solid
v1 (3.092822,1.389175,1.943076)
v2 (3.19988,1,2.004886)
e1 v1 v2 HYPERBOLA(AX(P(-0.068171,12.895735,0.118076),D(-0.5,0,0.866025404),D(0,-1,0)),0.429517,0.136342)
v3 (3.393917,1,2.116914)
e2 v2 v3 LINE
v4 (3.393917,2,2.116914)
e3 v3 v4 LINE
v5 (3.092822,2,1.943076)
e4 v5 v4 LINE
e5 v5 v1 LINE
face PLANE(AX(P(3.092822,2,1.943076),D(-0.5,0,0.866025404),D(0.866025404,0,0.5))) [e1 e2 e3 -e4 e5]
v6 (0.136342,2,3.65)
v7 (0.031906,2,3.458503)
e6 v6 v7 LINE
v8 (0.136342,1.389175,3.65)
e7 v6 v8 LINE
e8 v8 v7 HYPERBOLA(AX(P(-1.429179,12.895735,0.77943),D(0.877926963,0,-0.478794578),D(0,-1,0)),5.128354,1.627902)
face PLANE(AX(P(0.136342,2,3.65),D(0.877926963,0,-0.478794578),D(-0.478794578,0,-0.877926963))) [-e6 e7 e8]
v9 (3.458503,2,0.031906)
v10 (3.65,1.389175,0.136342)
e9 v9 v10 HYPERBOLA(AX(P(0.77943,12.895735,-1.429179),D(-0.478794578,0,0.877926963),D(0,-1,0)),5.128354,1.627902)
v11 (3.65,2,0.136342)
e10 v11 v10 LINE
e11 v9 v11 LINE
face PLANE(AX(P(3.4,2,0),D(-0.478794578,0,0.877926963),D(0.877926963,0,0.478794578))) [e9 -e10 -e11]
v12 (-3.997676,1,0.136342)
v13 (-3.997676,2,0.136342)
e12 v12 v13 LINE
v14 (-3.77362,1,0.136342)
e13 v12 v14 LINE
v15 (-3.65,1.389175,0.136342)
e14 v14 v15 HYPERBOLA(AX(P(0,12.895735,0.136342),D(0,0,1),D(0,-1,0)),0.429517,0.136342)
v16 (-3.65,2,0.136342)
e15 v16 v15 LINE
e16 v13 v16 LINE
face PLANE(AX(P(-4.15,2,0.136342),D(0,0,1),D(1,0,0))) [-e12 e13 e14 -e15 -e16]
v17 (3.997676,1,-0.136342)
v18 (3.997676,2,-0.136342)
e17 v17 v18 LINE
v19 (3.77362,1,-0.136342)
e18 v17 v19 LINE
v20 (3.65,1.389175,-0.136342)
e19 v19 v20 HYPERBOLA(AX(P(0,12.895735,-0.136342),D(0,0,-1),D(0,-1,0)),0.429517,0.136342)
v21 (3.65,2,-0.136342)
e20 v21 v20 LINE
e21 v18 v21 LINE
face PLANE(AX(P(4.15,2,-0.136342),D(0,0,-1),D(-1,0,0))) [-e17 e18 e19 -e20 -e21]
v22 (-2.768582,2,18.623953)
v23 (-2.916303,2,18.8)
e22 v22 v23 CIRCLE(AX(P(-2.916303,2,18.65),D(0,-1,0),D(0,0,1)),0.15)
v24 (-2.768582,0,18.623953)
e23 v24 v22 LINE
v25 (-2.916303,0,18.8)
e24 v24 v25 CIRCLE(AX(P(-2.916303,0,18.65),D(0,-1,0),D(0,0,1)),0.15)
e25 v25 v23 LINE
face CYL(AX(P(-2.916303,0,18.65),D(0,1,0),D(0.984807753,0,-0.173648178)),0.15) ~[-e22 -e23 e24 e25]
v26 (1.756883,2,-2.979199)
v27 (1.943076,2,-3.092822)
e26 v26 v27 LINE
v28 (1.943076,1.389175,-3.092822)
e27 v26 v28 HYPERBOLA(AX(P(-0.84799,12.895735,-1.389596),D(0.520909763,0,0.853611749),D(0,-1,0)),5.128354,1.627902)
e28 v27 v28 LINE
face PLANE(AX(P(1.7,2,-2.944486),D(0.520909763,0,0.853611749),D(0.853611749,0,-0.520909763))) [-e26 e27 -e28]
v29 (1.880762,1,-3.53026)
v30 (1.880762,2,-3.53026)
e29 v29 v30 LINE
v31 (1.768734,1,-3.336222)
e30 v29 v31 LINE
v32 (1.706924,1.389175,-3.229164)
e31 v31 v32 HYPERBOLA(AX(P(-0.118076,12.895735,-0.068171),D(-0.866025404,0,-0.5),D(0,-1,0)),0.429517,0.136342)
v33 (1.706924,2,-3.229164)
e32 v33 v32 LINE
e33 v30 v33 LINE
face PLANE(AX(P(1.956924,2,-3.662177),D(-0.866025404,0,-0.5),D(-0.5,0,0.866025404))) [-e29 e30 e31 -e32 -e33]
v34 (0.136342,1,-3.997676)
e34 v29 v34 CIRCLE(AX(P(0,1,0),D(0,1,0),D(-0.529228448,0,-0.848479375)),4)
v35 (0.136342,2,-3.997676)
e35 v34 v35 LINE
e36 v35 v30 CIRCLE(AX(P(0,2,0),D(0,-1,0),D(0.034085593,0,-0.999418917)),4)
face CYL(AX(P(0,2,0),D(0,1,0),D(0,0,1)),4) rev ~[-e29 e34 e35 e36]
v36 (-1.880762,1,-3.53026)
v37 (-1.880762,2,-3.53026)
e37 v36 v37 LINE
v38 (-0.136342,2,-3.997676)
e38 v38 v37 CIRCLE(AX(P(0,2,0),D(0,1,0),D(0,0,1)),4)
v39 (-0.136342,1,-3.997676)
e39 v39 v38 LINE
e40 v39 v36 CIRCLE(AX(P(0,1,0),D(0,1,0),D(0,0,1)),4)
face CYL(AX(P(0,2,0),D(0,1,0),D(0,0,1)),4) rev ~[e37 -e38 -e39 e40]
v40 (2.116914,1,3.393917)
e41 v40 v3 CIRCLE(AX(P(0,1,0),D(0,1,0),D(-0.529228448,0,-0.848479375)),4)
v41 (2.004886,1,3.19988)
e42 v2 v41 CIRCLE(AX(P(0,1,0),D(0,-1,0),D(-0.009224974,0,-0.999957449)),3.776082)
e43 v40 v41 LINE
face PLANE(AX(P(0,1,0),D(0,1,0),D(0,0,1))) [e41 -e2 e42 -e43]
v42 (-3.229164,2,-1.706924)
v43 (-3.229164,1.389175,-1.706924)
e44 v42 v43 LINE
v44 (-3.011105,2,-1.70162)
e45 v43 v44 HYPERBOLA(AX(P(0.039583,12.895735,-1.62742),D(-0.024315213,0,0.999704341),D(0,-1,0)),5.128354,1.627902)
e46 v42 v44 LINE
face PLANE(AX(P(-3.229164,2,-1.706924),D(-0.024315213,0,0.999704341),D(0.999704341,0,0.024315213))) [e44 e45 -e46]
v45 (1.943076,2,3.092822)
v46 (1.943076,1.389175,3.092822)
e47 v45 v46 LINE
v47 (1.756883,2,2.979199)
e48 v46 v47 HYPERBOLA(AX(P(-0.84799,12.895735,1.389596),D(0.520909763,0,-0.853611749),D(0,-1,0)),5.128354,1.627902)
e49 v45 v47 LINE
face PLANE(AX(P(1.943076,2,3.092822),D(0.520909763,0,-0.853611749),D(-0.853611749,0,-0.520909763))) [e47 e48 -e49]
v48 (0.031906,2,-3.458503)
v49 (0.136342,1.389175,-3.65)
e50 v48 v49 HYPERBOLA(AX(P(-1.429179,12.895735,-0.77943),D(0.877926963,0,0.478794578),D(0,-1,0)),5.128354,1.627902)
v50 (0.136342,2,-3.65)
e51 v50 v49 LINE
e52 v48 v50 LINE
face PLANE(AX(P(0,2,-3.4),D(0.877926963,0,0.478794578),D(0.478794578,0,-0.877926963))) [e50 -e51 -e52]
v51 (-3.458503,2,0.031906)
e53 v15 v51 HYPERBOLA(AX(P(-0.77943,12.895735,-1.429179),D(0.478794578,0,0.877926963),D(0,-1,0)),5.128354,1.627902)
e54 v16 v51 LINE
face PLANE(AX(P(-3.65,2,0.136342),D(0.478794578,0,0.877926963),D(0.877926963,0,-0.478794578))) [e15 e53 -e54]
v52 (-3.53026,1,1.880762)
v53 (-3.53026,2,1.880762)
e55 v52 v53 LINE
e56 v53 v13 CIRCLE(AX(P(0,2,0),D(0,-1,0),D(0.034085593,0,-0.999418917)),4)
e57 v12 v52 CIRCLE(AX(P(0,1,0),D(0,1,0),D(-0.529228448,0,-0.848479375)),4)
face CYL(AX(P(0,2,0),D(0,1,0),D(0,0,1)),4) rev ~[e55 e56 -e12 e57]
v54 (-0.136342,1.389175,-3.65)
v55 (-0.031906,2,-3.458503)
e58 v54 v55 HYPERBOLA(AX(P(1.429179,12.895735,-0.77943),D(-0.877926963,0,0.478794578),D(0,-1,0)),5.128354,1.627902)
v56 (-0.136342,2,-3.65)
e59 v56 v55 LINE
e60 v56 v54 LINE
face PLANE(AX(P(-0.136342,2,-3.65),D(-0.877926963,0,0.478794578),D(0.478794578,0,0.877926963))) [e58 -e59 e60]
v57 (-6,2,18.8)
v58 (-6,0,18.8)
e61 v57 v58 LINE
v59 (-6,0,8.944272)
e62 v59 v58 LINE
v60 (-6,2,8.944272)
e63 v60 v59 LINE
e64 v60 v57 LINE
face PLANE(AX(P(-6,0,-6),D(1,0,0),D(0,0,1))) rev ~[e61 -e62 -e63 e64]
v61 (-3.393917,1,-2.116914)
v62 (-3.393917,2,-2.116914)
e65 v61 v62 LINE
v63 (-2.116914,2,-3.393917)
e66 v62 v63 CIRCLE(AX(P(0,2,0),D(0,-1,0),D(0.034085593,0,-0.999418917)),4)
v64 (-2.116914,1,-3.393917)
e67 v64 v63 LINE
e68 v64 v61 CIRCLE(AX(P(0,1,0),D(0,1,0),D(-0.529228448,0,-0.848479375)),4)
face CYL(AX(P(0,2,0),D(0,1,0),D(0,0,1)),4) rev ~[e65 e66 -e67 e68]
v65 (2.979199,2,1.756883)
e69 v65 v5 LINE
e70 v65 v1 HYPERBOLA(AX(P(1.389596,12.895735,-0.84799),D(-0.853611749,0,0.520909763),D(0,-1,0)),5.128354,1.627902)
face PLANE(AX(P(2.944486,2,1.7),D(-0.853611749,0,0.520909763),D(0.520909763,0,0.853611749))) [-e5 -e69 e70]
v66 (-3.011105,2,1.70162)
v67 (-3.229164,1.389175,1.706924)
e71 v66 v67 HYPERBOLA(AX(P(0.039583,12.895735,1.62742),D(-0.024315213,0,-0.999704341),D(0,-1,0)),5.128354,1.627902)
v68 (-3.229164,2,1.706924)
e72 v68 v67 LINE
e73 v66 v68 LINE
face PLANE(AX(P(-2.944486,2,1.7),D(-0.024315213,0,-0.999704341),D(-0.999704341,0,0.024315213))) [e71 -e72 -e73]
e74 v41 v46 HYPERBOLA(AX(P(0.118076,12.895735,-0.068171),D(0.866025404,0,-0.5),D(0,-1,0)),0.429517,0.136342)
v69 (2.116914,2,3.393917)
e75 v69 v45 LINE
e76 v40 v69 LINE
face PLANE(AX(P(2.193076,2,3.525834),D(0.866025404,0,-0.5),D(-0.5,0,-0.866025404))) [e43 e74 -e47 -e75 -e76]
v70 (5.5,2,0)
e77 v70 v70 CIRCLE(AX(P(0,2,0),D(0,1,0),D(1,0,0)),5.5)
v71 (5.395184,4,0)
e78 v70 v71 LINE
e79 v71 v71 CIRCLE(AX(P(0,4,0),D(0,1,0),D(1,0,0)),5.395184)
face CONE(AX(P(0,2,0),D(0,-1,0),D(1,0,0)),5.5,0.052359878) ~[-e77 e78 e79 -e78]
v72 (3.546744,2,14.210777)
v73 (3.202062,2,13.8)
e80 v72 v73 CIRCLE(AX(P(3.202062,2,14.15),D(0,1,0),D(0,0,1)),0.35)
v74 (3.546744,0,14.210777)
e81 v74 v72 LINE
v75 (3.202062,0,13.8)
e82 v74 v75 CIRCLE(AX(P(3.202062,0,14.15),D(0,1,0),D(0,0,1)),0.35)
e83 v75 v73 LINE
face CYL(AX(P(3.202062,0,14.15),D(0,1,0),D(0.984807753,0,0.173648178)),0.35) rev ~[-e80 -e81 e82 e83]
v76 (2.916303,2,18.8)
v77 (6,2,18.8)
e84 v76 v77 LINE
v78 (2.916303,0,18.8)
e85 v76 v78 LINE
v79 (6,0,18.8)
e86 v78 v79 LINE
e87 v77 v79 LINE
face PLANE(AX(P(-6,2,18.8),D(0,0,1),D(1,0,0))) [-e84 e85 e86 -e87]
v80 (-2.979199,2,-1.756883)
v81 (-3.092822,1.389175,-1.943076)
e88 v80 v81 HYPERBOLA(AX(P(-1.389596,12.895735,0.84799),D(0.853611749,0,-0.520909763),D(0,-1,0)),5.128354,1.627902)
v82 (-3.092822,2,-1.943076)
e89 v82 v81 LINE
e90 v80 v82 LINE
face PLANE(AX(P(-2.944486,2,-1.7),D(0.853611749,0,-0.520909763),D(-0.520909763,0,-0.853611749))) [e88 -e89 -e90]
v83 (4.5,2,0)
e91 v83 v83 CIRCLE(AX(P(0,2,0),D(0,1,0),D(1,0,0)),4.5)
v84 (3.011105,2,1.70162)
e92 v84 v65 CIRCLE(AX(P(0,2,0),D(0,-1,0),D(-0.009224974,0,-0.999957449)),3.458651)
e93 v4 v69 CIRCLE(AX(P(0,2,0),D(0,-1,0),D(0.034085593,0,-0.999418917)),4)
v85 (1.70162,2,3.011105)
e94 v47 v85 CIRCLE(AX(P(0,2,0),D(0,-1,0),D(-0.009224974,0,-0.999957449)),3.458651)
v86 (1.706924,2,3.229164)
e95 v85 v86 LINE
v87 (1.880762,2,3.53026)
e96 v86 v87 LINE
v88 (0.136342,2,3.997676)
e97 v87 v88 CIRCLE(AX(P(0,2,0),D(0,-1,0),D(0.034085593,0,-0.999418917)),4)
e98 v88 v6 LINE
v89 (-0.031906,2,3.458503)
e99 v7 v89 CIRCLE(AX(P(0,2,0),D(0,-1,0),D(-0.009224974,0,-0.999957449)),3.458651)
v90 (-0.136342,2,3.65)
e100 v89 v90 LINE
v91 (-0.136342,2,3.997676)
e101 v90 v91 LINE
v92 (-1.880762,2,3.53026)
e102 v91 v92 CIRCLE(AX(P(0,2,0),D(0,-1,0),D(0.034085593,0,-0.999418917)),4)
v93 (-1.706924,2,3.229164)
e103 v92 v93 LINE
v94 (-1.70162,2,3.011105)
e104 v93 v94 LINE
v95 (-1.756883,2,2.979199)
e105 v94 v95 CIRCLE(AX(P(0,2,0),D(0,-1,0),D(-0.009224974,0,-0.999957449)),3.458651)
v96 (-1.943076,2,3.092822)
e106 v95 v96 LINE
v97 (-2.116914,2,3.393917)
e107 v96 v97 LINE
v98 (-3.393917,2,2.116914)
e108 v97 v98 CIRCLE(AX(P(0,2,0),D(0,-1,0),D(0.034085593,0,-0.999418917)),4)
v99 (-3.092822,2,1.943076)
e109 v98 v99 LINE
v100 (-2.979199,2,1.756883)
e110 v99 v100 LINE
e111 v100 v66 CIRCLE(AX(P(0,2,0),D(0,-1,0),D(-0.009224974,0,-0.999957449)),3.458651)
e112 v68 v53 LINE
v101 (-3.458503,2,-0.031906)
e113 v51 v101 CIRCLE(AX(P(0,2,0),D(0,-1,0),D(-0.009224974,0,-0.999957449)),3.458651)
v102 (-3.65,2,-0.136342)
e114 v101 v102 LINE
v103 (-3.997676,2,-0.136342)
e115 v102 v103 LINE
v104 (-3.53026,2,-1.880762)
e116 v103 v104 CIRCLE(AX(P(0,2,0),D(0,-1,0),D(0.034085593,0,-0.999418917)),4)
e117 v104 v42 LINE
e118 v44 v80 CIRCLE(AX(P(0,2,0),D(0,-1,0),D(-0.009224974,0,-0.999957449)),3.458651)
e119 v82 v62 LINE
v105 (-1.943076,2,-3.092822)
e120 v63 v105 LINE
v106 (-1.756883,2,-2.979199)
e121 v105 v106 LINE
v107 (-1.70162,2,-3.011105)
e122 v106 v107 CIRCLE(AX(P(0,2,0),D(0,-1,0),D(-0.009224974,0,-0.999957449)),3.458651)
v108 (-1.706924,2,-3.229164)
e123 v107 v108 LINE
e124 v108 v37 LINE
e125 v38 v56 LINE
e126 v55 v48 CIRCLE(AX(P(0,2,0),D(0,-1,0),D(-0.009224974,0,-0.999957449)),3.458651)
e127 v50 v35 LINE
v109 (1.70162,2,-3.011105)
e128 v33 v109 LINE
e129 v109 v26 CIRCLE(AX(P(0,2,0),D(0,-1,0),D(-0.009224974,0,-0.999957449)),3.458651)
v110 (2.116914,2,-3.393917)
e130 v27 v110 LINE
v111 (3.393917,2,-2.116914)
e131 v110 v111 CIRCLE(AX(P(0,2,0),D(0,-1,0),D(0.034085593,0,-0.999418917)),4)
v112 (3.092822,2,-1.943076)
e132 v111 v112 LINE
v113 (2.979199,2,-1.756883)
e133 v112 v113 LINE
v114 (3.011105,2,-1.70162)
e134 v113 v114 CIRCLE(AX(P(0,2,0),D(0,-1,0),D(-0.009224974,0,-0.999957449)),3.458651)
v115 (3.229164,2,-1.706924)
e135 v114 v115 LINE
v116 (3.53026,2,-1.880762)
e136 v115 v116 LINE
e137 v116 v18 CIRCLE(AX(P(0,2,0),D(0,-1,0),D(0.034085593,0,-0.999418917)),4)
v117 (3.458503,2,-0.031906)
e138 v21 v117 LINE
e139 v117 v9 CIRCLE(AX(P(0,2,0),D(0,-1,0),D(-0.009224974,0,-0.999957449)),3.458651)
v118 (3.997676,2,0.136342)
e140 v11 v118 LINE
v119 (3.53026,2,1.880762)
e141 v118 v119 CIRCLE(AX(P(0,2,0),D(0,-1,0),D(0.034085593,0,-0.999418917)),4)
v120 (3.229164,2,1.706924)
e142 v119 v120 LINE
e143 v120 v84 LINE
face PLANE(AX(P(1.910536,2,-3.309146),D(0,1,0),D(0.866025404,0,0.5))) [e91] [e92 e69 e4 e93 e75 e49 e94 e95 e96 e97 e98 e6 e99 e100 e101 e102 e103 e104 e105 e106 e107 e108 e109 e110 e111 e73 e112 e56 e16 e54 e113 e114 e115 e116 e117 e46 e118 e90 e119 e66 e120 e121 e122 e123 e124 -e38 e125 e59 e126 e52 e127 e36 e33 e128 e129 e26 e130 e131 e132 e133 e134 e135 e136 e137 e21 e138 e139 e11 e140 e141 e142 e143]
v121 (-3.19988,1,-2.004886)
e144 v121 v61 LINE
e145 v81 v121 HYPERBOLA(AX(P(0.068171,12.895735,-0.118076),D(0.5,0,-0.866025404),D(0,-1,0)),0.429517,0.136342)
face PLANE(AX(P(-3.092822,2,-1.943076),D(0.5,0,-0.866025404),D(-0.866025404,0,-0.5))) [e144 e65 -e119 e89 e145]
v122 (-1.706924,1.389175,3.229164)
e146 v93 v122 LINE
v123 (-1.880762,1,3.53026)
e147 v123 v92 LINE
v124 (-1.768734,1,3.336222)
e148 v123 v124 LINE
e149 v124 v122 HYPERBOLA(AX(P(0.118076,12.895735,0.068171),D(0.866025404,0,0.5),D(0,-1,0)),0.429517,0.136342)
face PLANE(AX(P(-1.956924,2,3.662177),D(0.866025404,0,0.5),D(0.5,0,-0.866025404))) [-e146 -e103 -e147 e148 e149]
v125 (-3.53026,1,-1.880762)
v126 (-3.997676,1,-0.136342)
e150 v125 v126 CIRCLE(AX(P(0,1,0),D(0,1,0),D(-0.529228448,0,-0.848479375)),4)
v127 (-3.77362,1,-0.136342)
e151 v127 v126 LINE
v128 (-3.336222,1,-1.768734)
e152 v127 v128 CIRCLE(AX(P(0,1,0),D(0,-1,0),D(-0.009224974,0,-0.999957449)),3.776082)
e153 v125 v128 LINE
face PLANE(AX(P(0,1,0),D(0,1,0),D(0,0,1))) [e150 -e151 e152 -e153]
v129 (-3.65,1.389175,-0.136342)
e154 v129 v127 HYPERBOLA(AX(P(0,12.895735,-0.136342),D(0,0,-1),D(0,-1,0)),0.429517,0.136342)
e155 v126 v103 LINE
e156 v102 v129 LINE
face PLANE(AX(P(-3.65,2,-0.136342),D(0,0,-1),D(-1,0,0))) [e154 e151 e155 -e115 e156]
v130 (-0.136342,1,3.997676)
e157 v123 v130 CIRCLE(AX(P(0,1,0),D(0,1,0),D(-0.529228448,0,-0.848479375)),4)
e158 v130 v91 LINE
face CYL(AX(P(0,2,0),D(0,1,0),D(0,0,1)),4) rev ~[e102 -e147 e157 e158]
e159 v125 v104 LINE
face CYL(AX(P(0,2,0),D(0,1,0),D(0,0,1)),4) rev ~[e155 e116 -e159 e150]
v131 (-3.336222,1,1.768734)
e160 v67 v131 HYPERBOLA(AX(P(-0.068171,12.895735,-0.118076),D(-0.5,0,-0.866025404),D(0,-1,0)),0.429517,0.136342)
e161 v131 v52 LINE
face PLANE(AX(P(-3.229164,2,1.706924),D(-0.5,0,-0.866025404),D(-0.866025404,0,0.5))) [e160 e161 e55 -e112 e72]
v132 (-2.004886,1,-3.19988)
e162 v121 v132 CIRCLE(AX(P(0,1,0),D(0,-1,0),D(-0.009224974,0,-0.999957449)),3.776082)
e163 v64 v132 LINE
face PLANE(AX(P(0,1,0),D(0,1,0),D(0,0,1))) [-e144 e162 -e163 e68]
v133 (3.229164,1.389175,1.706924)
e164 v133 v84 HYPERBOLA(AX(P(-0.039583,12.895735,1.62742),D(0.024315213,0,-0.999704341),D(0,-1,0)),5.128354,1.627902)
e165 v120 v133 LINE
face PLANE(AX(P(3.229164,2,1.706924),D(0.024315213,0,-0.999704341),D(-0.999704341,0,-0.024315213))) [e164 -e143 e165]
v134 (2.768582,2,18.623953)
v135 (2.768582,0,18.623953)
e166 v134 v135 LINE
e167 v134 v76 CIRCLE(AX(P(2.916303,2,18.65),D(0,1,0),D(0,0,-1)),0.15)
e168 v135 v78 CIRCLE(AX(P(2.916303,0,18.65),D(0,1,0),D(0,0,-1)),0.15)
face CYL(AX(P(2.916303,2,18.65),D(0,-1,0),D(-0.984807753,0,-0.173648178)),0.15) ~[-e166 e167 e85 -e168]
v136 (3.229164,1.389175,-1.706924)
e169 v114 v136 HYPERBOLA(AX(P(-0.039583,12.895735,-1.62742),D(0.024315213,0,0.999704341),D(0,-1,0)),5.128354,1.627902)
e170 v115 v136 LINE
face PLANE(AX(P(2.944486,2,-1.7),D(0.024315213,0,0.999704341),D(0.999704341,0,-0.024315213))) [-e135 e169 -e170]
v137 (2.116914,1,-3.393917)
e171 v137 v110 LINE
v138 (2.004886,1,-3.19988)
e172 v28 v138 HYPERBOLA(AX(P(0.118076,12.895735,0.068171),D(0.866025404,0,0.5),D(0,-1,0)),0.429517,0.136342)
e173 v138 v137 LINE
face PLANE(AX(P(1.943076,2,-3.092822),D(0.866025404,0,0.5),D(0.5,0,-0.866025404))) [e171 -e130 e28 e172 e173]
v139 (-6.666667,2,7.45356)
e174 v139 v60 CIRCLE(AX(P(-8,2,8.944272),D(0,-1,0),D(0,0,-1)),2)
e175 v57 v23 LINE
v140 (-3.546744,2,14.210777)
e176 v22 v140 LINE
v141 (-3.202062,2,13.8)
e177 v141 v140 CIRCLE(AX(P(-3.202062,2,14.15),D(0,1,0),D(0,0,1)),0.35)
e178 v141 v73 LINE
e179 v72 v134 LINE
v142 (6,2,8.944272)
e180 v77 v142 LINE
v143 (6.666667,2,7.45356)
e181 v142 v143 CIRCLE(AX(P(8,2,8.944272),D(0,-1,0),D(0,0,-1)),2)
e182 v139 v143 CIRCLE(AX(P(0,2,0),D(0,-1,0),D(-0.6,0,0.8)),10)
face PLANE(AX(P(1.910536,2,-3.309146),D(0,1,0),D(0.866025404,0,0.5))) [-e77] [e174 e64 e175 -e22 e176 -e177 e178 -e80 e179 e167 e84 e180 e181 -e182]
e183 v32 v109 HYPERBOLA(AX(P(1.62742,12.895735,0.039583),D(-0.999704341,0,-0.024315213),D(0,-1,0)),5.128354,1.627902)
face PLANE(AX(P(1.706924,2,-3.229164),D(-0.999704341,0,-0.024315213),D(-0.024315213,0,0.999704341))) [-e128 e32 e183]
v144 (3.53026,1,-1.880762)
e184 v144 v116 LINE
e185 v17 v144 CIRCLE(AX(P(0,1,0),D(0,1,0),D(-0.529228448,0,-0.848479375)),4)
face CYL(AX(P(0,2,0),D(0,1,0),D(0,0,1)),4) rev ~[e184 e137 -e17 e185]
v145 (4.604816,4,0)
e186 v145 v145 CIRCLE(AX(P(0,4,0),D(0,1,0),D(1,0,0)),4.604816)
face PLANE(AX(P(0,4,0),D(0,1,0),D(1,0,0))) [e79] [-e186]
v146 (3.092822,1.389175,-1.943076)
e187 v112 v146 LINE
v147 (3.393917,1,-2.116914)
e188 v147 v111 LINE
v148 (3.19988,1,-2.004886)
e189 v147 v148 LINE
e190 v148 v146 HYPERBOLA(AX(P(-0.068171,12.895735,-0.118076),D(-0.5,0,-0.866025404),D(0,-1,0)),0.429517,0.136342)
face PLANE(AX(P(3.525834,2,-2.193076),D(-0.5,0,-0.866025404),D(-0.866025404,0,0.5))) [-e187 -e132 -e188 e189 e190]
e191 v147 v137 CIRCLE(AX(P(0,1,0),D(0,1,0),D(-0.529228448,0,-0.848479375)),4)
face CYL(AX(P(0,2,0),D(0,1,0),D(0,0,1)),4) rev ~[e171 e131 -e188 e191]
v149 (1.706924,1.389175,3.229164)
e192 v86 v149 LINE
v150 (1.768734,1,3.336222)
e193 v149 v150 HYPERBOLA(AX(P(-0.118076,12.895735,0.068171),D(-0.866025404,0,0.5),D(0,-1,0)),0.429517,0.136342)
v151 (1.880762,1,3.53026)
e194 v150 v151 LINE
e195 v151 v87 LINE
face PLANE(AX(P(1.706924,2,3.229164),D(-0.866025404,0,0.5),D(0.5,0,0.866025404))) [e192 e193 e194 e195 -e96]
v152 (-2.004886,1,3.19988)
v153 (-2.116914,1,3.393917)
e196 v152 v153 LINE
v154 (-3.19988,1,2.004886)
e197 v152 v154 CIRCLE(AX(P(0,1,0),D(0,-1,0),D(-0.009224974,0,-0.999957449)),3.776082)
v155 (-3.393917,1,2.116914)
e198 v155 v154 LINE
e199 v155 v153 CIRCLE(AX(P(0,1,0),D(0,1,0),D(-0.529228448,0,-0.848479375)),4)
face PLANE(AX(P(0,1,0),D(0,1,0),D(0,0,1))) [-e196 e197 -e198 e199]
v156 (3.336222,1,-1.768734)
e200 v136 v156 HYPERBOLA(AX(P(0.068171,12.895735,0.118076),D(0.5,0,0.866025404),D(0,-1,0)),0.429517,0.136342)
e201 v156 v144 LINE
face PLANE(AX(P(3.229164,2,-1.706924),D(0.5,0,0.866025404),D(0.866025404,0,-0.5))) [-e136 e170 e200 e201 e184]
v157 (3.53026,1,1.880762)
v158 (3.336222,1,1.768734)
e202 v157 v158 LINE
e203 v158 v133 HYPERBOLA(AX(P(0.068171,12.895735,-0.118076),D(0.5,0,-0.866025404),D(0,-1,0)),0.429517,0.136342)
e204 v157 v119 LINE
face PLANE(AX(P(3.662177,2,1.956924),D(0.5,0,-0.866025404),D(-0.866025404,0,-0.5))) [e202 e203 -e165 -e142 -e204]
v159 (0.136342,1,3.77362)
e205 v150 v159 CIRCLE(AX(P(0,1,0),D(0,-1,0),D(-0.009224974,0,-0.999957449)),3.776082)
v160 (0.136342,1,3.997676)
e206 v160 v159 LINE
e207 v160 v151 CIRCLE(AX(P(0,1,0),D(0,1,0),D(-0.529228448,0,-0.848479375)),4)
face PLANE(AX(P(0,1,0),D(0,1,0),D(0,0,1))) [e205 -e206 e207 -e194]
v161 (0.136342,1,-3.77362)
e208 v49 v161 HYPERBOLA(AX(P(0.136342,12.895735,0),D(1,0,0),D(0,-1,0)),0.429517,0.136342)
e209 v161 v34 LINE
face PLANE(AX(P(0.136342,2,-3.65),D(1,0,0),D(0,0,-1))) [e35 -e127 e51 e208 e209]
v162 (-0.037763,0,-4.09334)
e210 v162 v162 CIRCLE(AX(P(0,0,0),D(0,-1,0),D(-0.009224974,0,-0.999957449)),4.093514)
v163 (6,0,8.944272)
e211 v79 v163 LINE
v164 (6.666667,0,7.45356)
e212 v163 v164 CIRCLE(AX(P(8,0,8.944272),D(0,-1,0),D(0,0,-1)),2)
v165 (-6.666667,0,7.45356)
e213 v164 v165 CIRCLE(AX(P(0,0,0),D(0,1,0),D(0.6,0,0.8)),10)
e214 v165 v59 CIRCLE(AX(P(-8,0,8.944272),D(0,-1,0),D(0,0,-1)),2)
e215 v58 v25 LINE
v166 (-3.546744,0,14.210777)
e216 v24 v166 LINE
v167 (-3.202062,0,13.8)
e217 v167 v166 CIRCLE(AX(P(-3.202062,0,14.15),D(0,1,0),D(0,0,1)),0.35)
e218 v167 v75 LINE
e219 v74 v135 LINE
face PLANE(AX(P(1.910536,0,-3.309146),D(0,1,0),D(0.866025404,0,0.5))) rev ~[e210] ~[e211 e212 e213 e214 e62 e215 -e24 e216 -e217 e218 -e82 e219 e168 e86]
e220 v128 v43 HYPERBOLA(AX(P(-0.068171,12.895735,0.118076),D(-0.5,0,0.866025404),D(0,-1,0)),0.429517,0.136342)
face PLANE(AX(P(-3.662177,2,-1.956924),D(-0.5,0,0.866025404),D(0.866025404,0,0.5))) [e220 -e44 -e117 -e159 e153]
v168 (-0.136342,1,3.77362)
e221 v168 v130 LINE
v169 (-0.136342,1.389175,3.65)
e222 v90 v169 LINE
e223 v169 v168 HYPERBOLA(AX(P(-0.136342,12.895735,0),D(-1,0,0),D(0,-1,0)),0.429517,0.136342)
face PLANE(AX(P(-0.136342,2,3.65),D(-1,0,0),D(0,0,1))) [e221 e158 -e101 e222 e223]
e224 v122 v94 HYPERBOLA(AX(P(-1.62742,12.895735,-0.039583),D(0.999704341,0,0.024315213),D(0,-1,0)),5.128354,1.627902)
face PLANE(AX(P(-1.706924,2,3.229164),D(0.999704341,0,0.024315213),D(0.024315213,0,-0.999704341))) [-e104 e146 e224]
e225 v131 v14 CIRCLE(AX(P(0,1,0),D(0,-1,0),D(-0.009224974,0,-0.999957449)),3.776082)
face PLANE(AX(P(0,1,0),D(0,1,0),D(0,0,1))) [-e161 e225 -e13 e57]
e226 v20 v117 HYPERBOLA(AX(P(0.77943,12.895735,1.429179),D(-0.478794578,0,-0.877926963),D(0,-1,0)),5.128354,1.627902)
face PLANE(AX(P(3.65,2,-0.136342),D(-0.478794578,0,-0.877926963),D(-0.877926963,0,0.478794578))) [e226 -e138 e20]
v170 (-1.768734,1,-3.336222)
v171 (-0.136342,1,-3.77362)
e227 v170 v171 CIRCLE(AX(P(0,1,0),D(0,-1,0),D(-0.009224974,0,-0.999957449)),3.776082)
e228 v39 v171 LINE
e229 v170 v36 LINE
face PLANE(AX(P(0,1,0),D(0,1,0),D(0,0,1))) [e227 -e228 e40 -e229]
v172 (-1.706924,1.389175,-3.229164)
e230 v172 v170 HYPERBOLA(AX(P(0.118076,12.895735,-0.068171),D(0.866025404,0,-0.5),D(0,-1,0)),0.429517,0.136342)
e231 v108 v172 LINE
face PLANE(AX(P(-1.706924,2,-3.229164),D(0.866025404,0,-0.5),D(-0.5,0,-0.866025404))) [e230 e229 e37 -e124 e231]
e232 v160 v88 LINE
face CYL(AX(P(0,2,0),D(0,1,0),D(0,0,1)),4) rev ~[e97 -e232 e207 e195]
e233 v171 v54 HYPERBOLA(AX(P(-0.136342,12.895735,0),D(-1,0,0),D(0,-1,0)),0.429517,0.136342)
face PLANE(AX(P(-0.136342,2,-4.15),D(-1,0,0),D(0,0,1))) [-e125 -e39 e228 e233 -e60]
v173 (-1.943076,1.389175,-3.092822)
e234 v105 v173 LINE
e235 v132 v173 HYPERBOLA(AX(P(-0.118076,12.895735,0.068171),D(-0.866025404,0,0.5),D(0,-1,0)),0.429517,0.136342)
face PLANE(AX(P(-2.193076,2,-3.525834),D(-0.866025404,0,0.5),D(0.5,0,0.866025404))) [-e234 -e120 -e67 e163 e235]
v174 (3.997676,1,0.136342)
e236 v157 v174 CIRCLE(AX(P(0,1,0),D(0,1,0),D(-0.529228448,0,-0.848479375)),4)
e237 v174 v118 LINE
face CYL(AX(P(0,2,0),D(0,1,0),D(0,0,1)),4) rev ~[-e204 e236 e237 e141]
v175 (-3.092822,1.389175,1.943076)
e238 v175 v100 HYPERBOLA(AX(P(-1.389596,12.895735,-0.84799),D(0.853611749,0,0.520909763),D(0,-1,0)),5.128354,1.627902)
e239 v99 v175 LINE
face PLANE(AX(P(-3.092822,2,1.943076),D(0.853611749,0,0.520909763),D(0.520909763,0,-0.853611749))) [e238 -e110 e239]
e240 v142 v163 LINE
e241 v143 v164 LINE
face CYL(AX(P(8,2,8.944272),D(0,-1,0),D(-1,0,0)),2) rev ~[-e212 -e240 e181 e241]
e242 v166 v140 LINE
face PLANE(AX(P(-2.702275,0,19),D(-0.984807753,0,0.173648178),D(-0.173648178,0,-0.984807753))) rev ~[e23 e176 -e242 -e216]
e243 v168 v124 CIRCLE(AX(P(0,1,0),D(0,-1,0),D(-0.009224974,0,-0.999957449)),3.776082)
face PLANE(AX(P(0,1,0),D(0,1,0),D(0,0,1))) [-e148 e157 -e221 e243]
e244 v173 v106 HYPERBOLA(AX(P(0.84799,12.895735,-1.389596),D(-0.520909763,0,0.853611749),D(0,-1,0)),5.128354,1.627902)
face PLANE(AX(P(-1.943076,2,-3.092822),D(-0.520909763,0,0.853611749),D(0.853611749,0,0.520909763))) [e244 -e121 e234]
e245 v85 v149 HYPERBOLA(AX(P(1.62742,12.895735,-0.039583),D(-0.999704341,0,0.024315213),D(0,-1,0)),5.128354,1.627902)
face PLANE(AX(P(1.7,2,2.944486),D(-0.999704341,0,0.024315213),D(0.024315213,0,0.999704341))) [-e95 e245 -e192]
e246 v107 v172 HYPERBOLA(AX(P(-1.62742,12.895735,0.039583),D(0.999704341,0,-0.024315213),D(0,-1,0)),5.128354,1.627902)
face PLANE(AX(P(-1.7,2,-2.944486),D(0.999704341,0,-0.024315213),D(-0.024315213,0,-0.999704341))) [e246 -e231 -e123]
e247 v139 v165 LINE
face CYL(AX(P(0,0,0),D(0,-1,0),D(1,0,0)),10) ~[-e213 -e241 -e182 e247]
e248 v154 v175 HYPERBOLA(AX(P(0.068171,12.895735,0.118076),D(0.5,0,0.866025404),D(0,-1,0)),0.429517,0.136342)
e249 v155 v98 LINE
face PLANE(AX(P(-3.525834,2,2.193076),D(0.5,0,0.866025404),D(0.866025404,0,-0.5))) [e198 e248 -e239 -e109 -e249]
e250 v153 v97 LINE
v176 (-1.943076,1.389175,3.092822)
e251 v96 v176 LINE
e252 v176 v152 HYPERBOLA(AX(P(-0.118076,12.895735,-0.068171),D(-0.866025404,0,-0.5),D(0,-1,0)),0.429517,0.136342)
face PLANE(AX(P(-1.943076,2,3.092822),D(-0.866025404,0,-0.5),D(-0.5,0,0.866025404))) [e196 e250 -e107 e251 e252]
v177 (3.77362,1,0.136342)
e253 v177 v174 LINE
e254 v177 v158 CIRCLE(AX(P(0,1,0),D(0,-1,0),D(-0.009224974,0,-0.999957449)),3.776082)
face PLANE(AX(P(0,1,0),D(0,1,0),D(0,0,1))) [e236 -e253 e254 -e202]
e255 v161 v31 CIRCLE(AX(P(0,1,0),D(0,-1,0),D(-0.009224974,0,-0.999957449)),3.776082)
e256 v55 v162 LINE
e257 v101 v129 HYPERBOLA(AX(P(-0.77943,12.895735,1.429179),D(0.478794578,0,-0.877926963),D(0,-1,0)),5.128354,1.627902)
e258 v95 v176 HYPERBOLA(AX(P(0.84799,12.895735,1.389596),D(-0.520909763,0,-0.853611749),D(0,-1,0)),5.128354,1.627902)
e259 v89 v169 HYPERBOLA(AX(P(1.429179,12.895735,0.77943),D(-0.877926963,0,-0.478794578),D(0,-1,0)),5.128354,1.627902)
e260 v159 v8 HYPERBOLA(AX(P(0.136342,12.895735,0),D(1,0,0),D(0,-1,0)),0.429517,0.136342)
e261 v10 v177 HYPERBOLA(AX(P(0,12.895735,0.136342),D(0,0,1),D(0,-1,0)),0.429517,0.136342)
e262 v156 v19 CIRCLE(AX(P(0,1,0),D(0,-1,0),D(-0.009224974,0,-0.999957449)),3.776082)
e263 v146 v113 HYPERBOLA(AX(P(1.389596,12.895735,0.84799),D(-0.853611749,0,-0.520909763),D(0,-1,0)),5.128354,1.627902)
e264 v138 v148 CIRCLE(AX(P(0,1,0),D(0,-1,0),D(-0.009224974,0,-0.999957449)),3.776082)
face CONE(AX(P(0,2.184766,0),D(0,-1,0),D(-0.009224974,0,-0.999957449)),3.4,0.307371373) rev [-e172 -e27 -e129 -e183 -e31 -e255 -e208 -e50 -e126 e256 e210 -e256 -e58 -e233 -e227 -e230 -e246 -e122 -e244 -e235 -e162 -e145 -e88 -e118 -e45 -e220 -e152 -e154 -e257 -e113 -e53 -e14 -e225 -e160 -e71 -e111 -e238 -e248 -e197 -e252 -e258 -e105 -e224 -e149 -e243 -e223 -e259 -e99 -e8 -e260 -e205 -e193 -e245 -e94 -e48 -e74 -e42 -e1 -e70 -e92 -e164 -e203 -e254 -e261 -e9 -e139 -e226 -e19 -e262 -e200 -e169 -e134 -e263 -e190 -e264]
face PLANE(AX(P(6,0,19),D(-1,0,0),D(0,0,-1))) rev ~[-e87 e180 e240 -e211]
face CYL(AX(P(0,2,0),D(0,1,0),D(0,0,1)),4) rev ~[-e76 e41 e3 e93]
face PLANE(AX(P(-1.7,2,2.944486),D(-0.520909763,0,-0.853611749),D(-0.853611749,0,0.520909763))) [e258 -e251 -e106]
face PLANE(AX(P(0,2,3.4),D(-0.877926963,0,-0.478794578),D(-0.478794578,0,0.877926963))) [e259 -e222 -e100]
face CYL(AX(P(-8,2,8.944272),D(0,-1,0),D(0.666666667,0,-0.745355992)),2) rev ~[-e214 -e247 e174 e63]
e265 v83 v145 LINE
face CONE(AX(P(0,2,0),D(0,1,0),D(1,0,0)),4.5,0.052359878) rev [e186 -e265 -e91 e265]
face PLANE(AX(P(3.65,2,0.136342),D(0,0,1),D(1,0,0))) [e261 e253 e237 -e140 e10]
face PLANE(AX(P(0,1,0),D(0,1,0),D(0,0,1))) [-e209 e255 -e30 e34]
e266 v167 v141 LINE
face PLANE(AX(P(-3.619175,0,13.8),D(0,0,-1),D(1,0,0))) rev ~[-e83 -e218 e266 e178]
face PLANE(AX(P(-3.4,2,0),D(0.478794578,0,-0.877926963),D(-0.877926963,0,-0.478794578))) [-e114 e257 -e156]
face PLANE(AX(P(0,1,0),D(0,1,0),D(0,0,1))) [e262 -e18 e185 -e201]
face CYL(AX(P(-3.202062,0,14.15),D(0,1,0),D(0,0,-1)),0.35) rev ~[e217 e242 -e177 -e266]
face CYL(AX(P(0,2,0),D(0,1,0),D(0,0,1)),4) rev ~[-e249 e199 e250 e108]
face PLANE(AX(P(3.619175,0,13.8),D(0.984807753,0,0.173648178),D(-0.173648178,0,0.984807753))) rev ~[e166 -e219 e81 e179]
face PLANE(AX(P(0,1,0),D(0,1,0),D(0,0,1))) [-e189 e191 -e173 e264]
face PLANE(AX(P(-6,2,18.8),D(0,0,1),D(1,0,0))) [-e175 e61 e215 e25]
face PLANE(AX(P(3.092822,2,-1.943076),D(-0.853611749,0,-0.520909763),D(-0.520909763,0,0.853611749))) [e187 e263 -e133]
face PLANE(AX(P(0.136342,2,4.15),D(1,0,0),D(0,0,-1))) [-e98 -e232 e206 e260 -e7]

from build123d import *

# Parameters (mm, degrees)
SKETCH1_R           = 3.75
BOSS_EXTRUDE1_DEPTH = 2
SKETCH2_R           = 10
SKETCH2_R_2         = 3.8
BOSS_EXTRUDE2_DEPTH = 2
SKETCH4_W           = 12
SKETCH4_H           = 0.2
CUT_EXTRUDE1_DEPTH  = 4
FILLET3_R           = 0.35
FILLET4_R           = 0.15
FILLET6_R           = 2
SKETCH10_R          = 4
CUT_EXTRUDE4_DEPTH  = 1
BOSS_EXTRUDE6_DEPTH = 2
CIRPATTERN1_COUNT   = 12
SKETCH11_R          = 5.5
SKETCH11_R_2        = 4.5
BOSS_EXTRUDE7_DEPTH = 2
BOSS_EXTRUDE7_DRAFT = 3


with BuildPart() as part:
    # Sketch1 → Boss-Extrude1 (new body)
    with BuildSketch(Plane(origin=(0, 0, 0), x_dir=(1, 0, 0), z_dir=(0, 1, 0))):
        Polygon((-6, 6), (-6, -13.291502622), (-6, -19), (-2.70227506, -19), (-3.619175359, -13.8), (0, -13.8), (3.619175359, -13.8), (2.70227506, -19), (6, -19), (6, -13.291502622), (6, 6), align=None)
        with Locations(Location((0, 0, 0), (0, 0, 270))):
            Circle(SKETCH1_R, mode=Mode.SUBTRACT)
    extrude(amount=BOSS_EXTRUDE1_DEPTH)

    # Sketch2 → Boss-Extrude2 (add)
    with BuildSketch(Plane(origin=(0, 0, 0), x_dir=(1, 0, 0), z_dir=(0, 1, 0))):
        Circle(SKETCH2_R)
        Circle(SKETCH2_R_2, mode=Mode.SUBTRACT)
    extrude(amount=BOSS_EXTRUDE2_DEPTH)

    # Sketch4 → Cut-Extrude1 (cut)
    with BuildSketch(Plane(origin=(0, 2, 0), x_dir=(1, 0, 0), z_dir=(0, 1, 0))):
        with Locations((0, -18.9)):
            Rectangle(SKETCH4_W, SKETCH4_H)
    extrude(amount=-CUT_EXTRUDE1_DEPTH, mode=Mode.SUBTRACT)

    # Fillet3
    fillet3_edges = [part.edges().sort_by_distance(p)[0] for p in [
        (3.619175359, 1, 13.8),
        (-3.619175359, 1, 13.8),
    ]]
    fillet(fillet3_edges, radius=FILLET3_R)

    # Fillet4
    fillet4_edges = [part.edges().sort_by_distance(p)[0] for p in [
        (2.737540456, 1, 18.8),
        (-2.737540456, 1, 18.8),
    ]]
    fillet(fillet4_edges, radius=FILLET4_R)

    # Fillet6
    fillet6_edges = [part.edges().sort_by_distance(p)[0] for p in [
        (6, 1, 8),
        (-6, 1, 8),
    ]]
    fillet(fillet6_edges, radius=FILLET6_R)

    # Sketch10 → Cut-Extrude4 (cut)
    with BuildSketch(Plane(origin=(0, 2, 0), x_dir=(1, 0, 0), z_dir=(0, 1, 0))):
        with Locations(Location((0, 0, 0), (0, 0, 270))):
            Circle(SKETCH10_R)
    extrude(amount=-CUT_EXTRUDE4_DEPTH, mode=Mode.SUBTRACT)

    # Sketch8 → Boss-Extrude6 (add)
    with BuildSketch(Plane(origin=(0, 2, 0), x_dir=(1, 0, 0), z_dir=(0, 1, 0))):
        Polygon((-0.136342372, 3.65), (0, 3.4), (0.136342372, 3.65), (0.136342372, 4.15), (-0.136342372, 4.15), align=None)
    boss_extrude6 = extrude(amount=-BOSS_EXTRUDE6_DEPTH)

    # CirPattern1: Boss-Extrude6 ×12 about axis
    cirpattern1_axis = Axis((0, 0, 0), (0, 1, 0))
    for i in range(1, CIRPATTERN1_COUNT):
        add(boss_extrude6.rotate(cirpattern1_axis, i * 360 / CIRPATTERN1_COUNT))

    # Sketch9 → Cut-Revolve2 (revolve, cut)
    with BuildSketch(Plane(origin=(0, 0, 0), x_dir=(0, 0, -1), z_dir=(1, 0, 0)), mode=Mode.PRIVATE) as cut_revolve2_sk:
        Polygon((3.4, 2.184766015), (4.2, -0.335462065), (0, -0.335462065), (0, 2.184766015), align=None)
    revolve(cut_revolve2_sk.sketch.rotate(Axis((0, 0, 0), (0, 1, 0)), 0.528559578), axis=Axis((0, 0, 0), (0, 1, 0)), mode=Mode.SUBTRACT)


with BuildPart() as boss_extrude7_tool:
    # Sketch11 → Boss-Extrude7 (with draft: the straight prism first)
    with BuildSketch(Plane(origin=(0, 2, 0), x_dir=(1, 0, 0), z_dir=(0, 1, 0))):
        Circle(SKETCH11_R)
        Circle(SKETCH11_R_2, mode=Mode.SUBTRACT)
    extrude(amount=BOSS_EXTRUDE7_DEPTH)
    # Boss-Extrude7: the draft: its side faces are tilted about the plane it starts from
    boss_extrude7_sides = [boss_extrude7_tool.faces().sort_by_distance(p)[0] for p in [
        (-5.5, 3, 0),
        (-4.5, 3, 0),
    ]]
    draft(boss_extrude7_sides, Plane(origin=(0, 2, 0), x_dir=(1, 0, 0), z_dir=(0, 1, 0)), BOSS_EXTRUDE7_DRAFT)


with BuildPart() as part_1:
    add(part.part)

    # Boss-Extrude7: add boss_extrude7_tool
    add(boss_extrude7_tool.part)


solid = part_1.part
